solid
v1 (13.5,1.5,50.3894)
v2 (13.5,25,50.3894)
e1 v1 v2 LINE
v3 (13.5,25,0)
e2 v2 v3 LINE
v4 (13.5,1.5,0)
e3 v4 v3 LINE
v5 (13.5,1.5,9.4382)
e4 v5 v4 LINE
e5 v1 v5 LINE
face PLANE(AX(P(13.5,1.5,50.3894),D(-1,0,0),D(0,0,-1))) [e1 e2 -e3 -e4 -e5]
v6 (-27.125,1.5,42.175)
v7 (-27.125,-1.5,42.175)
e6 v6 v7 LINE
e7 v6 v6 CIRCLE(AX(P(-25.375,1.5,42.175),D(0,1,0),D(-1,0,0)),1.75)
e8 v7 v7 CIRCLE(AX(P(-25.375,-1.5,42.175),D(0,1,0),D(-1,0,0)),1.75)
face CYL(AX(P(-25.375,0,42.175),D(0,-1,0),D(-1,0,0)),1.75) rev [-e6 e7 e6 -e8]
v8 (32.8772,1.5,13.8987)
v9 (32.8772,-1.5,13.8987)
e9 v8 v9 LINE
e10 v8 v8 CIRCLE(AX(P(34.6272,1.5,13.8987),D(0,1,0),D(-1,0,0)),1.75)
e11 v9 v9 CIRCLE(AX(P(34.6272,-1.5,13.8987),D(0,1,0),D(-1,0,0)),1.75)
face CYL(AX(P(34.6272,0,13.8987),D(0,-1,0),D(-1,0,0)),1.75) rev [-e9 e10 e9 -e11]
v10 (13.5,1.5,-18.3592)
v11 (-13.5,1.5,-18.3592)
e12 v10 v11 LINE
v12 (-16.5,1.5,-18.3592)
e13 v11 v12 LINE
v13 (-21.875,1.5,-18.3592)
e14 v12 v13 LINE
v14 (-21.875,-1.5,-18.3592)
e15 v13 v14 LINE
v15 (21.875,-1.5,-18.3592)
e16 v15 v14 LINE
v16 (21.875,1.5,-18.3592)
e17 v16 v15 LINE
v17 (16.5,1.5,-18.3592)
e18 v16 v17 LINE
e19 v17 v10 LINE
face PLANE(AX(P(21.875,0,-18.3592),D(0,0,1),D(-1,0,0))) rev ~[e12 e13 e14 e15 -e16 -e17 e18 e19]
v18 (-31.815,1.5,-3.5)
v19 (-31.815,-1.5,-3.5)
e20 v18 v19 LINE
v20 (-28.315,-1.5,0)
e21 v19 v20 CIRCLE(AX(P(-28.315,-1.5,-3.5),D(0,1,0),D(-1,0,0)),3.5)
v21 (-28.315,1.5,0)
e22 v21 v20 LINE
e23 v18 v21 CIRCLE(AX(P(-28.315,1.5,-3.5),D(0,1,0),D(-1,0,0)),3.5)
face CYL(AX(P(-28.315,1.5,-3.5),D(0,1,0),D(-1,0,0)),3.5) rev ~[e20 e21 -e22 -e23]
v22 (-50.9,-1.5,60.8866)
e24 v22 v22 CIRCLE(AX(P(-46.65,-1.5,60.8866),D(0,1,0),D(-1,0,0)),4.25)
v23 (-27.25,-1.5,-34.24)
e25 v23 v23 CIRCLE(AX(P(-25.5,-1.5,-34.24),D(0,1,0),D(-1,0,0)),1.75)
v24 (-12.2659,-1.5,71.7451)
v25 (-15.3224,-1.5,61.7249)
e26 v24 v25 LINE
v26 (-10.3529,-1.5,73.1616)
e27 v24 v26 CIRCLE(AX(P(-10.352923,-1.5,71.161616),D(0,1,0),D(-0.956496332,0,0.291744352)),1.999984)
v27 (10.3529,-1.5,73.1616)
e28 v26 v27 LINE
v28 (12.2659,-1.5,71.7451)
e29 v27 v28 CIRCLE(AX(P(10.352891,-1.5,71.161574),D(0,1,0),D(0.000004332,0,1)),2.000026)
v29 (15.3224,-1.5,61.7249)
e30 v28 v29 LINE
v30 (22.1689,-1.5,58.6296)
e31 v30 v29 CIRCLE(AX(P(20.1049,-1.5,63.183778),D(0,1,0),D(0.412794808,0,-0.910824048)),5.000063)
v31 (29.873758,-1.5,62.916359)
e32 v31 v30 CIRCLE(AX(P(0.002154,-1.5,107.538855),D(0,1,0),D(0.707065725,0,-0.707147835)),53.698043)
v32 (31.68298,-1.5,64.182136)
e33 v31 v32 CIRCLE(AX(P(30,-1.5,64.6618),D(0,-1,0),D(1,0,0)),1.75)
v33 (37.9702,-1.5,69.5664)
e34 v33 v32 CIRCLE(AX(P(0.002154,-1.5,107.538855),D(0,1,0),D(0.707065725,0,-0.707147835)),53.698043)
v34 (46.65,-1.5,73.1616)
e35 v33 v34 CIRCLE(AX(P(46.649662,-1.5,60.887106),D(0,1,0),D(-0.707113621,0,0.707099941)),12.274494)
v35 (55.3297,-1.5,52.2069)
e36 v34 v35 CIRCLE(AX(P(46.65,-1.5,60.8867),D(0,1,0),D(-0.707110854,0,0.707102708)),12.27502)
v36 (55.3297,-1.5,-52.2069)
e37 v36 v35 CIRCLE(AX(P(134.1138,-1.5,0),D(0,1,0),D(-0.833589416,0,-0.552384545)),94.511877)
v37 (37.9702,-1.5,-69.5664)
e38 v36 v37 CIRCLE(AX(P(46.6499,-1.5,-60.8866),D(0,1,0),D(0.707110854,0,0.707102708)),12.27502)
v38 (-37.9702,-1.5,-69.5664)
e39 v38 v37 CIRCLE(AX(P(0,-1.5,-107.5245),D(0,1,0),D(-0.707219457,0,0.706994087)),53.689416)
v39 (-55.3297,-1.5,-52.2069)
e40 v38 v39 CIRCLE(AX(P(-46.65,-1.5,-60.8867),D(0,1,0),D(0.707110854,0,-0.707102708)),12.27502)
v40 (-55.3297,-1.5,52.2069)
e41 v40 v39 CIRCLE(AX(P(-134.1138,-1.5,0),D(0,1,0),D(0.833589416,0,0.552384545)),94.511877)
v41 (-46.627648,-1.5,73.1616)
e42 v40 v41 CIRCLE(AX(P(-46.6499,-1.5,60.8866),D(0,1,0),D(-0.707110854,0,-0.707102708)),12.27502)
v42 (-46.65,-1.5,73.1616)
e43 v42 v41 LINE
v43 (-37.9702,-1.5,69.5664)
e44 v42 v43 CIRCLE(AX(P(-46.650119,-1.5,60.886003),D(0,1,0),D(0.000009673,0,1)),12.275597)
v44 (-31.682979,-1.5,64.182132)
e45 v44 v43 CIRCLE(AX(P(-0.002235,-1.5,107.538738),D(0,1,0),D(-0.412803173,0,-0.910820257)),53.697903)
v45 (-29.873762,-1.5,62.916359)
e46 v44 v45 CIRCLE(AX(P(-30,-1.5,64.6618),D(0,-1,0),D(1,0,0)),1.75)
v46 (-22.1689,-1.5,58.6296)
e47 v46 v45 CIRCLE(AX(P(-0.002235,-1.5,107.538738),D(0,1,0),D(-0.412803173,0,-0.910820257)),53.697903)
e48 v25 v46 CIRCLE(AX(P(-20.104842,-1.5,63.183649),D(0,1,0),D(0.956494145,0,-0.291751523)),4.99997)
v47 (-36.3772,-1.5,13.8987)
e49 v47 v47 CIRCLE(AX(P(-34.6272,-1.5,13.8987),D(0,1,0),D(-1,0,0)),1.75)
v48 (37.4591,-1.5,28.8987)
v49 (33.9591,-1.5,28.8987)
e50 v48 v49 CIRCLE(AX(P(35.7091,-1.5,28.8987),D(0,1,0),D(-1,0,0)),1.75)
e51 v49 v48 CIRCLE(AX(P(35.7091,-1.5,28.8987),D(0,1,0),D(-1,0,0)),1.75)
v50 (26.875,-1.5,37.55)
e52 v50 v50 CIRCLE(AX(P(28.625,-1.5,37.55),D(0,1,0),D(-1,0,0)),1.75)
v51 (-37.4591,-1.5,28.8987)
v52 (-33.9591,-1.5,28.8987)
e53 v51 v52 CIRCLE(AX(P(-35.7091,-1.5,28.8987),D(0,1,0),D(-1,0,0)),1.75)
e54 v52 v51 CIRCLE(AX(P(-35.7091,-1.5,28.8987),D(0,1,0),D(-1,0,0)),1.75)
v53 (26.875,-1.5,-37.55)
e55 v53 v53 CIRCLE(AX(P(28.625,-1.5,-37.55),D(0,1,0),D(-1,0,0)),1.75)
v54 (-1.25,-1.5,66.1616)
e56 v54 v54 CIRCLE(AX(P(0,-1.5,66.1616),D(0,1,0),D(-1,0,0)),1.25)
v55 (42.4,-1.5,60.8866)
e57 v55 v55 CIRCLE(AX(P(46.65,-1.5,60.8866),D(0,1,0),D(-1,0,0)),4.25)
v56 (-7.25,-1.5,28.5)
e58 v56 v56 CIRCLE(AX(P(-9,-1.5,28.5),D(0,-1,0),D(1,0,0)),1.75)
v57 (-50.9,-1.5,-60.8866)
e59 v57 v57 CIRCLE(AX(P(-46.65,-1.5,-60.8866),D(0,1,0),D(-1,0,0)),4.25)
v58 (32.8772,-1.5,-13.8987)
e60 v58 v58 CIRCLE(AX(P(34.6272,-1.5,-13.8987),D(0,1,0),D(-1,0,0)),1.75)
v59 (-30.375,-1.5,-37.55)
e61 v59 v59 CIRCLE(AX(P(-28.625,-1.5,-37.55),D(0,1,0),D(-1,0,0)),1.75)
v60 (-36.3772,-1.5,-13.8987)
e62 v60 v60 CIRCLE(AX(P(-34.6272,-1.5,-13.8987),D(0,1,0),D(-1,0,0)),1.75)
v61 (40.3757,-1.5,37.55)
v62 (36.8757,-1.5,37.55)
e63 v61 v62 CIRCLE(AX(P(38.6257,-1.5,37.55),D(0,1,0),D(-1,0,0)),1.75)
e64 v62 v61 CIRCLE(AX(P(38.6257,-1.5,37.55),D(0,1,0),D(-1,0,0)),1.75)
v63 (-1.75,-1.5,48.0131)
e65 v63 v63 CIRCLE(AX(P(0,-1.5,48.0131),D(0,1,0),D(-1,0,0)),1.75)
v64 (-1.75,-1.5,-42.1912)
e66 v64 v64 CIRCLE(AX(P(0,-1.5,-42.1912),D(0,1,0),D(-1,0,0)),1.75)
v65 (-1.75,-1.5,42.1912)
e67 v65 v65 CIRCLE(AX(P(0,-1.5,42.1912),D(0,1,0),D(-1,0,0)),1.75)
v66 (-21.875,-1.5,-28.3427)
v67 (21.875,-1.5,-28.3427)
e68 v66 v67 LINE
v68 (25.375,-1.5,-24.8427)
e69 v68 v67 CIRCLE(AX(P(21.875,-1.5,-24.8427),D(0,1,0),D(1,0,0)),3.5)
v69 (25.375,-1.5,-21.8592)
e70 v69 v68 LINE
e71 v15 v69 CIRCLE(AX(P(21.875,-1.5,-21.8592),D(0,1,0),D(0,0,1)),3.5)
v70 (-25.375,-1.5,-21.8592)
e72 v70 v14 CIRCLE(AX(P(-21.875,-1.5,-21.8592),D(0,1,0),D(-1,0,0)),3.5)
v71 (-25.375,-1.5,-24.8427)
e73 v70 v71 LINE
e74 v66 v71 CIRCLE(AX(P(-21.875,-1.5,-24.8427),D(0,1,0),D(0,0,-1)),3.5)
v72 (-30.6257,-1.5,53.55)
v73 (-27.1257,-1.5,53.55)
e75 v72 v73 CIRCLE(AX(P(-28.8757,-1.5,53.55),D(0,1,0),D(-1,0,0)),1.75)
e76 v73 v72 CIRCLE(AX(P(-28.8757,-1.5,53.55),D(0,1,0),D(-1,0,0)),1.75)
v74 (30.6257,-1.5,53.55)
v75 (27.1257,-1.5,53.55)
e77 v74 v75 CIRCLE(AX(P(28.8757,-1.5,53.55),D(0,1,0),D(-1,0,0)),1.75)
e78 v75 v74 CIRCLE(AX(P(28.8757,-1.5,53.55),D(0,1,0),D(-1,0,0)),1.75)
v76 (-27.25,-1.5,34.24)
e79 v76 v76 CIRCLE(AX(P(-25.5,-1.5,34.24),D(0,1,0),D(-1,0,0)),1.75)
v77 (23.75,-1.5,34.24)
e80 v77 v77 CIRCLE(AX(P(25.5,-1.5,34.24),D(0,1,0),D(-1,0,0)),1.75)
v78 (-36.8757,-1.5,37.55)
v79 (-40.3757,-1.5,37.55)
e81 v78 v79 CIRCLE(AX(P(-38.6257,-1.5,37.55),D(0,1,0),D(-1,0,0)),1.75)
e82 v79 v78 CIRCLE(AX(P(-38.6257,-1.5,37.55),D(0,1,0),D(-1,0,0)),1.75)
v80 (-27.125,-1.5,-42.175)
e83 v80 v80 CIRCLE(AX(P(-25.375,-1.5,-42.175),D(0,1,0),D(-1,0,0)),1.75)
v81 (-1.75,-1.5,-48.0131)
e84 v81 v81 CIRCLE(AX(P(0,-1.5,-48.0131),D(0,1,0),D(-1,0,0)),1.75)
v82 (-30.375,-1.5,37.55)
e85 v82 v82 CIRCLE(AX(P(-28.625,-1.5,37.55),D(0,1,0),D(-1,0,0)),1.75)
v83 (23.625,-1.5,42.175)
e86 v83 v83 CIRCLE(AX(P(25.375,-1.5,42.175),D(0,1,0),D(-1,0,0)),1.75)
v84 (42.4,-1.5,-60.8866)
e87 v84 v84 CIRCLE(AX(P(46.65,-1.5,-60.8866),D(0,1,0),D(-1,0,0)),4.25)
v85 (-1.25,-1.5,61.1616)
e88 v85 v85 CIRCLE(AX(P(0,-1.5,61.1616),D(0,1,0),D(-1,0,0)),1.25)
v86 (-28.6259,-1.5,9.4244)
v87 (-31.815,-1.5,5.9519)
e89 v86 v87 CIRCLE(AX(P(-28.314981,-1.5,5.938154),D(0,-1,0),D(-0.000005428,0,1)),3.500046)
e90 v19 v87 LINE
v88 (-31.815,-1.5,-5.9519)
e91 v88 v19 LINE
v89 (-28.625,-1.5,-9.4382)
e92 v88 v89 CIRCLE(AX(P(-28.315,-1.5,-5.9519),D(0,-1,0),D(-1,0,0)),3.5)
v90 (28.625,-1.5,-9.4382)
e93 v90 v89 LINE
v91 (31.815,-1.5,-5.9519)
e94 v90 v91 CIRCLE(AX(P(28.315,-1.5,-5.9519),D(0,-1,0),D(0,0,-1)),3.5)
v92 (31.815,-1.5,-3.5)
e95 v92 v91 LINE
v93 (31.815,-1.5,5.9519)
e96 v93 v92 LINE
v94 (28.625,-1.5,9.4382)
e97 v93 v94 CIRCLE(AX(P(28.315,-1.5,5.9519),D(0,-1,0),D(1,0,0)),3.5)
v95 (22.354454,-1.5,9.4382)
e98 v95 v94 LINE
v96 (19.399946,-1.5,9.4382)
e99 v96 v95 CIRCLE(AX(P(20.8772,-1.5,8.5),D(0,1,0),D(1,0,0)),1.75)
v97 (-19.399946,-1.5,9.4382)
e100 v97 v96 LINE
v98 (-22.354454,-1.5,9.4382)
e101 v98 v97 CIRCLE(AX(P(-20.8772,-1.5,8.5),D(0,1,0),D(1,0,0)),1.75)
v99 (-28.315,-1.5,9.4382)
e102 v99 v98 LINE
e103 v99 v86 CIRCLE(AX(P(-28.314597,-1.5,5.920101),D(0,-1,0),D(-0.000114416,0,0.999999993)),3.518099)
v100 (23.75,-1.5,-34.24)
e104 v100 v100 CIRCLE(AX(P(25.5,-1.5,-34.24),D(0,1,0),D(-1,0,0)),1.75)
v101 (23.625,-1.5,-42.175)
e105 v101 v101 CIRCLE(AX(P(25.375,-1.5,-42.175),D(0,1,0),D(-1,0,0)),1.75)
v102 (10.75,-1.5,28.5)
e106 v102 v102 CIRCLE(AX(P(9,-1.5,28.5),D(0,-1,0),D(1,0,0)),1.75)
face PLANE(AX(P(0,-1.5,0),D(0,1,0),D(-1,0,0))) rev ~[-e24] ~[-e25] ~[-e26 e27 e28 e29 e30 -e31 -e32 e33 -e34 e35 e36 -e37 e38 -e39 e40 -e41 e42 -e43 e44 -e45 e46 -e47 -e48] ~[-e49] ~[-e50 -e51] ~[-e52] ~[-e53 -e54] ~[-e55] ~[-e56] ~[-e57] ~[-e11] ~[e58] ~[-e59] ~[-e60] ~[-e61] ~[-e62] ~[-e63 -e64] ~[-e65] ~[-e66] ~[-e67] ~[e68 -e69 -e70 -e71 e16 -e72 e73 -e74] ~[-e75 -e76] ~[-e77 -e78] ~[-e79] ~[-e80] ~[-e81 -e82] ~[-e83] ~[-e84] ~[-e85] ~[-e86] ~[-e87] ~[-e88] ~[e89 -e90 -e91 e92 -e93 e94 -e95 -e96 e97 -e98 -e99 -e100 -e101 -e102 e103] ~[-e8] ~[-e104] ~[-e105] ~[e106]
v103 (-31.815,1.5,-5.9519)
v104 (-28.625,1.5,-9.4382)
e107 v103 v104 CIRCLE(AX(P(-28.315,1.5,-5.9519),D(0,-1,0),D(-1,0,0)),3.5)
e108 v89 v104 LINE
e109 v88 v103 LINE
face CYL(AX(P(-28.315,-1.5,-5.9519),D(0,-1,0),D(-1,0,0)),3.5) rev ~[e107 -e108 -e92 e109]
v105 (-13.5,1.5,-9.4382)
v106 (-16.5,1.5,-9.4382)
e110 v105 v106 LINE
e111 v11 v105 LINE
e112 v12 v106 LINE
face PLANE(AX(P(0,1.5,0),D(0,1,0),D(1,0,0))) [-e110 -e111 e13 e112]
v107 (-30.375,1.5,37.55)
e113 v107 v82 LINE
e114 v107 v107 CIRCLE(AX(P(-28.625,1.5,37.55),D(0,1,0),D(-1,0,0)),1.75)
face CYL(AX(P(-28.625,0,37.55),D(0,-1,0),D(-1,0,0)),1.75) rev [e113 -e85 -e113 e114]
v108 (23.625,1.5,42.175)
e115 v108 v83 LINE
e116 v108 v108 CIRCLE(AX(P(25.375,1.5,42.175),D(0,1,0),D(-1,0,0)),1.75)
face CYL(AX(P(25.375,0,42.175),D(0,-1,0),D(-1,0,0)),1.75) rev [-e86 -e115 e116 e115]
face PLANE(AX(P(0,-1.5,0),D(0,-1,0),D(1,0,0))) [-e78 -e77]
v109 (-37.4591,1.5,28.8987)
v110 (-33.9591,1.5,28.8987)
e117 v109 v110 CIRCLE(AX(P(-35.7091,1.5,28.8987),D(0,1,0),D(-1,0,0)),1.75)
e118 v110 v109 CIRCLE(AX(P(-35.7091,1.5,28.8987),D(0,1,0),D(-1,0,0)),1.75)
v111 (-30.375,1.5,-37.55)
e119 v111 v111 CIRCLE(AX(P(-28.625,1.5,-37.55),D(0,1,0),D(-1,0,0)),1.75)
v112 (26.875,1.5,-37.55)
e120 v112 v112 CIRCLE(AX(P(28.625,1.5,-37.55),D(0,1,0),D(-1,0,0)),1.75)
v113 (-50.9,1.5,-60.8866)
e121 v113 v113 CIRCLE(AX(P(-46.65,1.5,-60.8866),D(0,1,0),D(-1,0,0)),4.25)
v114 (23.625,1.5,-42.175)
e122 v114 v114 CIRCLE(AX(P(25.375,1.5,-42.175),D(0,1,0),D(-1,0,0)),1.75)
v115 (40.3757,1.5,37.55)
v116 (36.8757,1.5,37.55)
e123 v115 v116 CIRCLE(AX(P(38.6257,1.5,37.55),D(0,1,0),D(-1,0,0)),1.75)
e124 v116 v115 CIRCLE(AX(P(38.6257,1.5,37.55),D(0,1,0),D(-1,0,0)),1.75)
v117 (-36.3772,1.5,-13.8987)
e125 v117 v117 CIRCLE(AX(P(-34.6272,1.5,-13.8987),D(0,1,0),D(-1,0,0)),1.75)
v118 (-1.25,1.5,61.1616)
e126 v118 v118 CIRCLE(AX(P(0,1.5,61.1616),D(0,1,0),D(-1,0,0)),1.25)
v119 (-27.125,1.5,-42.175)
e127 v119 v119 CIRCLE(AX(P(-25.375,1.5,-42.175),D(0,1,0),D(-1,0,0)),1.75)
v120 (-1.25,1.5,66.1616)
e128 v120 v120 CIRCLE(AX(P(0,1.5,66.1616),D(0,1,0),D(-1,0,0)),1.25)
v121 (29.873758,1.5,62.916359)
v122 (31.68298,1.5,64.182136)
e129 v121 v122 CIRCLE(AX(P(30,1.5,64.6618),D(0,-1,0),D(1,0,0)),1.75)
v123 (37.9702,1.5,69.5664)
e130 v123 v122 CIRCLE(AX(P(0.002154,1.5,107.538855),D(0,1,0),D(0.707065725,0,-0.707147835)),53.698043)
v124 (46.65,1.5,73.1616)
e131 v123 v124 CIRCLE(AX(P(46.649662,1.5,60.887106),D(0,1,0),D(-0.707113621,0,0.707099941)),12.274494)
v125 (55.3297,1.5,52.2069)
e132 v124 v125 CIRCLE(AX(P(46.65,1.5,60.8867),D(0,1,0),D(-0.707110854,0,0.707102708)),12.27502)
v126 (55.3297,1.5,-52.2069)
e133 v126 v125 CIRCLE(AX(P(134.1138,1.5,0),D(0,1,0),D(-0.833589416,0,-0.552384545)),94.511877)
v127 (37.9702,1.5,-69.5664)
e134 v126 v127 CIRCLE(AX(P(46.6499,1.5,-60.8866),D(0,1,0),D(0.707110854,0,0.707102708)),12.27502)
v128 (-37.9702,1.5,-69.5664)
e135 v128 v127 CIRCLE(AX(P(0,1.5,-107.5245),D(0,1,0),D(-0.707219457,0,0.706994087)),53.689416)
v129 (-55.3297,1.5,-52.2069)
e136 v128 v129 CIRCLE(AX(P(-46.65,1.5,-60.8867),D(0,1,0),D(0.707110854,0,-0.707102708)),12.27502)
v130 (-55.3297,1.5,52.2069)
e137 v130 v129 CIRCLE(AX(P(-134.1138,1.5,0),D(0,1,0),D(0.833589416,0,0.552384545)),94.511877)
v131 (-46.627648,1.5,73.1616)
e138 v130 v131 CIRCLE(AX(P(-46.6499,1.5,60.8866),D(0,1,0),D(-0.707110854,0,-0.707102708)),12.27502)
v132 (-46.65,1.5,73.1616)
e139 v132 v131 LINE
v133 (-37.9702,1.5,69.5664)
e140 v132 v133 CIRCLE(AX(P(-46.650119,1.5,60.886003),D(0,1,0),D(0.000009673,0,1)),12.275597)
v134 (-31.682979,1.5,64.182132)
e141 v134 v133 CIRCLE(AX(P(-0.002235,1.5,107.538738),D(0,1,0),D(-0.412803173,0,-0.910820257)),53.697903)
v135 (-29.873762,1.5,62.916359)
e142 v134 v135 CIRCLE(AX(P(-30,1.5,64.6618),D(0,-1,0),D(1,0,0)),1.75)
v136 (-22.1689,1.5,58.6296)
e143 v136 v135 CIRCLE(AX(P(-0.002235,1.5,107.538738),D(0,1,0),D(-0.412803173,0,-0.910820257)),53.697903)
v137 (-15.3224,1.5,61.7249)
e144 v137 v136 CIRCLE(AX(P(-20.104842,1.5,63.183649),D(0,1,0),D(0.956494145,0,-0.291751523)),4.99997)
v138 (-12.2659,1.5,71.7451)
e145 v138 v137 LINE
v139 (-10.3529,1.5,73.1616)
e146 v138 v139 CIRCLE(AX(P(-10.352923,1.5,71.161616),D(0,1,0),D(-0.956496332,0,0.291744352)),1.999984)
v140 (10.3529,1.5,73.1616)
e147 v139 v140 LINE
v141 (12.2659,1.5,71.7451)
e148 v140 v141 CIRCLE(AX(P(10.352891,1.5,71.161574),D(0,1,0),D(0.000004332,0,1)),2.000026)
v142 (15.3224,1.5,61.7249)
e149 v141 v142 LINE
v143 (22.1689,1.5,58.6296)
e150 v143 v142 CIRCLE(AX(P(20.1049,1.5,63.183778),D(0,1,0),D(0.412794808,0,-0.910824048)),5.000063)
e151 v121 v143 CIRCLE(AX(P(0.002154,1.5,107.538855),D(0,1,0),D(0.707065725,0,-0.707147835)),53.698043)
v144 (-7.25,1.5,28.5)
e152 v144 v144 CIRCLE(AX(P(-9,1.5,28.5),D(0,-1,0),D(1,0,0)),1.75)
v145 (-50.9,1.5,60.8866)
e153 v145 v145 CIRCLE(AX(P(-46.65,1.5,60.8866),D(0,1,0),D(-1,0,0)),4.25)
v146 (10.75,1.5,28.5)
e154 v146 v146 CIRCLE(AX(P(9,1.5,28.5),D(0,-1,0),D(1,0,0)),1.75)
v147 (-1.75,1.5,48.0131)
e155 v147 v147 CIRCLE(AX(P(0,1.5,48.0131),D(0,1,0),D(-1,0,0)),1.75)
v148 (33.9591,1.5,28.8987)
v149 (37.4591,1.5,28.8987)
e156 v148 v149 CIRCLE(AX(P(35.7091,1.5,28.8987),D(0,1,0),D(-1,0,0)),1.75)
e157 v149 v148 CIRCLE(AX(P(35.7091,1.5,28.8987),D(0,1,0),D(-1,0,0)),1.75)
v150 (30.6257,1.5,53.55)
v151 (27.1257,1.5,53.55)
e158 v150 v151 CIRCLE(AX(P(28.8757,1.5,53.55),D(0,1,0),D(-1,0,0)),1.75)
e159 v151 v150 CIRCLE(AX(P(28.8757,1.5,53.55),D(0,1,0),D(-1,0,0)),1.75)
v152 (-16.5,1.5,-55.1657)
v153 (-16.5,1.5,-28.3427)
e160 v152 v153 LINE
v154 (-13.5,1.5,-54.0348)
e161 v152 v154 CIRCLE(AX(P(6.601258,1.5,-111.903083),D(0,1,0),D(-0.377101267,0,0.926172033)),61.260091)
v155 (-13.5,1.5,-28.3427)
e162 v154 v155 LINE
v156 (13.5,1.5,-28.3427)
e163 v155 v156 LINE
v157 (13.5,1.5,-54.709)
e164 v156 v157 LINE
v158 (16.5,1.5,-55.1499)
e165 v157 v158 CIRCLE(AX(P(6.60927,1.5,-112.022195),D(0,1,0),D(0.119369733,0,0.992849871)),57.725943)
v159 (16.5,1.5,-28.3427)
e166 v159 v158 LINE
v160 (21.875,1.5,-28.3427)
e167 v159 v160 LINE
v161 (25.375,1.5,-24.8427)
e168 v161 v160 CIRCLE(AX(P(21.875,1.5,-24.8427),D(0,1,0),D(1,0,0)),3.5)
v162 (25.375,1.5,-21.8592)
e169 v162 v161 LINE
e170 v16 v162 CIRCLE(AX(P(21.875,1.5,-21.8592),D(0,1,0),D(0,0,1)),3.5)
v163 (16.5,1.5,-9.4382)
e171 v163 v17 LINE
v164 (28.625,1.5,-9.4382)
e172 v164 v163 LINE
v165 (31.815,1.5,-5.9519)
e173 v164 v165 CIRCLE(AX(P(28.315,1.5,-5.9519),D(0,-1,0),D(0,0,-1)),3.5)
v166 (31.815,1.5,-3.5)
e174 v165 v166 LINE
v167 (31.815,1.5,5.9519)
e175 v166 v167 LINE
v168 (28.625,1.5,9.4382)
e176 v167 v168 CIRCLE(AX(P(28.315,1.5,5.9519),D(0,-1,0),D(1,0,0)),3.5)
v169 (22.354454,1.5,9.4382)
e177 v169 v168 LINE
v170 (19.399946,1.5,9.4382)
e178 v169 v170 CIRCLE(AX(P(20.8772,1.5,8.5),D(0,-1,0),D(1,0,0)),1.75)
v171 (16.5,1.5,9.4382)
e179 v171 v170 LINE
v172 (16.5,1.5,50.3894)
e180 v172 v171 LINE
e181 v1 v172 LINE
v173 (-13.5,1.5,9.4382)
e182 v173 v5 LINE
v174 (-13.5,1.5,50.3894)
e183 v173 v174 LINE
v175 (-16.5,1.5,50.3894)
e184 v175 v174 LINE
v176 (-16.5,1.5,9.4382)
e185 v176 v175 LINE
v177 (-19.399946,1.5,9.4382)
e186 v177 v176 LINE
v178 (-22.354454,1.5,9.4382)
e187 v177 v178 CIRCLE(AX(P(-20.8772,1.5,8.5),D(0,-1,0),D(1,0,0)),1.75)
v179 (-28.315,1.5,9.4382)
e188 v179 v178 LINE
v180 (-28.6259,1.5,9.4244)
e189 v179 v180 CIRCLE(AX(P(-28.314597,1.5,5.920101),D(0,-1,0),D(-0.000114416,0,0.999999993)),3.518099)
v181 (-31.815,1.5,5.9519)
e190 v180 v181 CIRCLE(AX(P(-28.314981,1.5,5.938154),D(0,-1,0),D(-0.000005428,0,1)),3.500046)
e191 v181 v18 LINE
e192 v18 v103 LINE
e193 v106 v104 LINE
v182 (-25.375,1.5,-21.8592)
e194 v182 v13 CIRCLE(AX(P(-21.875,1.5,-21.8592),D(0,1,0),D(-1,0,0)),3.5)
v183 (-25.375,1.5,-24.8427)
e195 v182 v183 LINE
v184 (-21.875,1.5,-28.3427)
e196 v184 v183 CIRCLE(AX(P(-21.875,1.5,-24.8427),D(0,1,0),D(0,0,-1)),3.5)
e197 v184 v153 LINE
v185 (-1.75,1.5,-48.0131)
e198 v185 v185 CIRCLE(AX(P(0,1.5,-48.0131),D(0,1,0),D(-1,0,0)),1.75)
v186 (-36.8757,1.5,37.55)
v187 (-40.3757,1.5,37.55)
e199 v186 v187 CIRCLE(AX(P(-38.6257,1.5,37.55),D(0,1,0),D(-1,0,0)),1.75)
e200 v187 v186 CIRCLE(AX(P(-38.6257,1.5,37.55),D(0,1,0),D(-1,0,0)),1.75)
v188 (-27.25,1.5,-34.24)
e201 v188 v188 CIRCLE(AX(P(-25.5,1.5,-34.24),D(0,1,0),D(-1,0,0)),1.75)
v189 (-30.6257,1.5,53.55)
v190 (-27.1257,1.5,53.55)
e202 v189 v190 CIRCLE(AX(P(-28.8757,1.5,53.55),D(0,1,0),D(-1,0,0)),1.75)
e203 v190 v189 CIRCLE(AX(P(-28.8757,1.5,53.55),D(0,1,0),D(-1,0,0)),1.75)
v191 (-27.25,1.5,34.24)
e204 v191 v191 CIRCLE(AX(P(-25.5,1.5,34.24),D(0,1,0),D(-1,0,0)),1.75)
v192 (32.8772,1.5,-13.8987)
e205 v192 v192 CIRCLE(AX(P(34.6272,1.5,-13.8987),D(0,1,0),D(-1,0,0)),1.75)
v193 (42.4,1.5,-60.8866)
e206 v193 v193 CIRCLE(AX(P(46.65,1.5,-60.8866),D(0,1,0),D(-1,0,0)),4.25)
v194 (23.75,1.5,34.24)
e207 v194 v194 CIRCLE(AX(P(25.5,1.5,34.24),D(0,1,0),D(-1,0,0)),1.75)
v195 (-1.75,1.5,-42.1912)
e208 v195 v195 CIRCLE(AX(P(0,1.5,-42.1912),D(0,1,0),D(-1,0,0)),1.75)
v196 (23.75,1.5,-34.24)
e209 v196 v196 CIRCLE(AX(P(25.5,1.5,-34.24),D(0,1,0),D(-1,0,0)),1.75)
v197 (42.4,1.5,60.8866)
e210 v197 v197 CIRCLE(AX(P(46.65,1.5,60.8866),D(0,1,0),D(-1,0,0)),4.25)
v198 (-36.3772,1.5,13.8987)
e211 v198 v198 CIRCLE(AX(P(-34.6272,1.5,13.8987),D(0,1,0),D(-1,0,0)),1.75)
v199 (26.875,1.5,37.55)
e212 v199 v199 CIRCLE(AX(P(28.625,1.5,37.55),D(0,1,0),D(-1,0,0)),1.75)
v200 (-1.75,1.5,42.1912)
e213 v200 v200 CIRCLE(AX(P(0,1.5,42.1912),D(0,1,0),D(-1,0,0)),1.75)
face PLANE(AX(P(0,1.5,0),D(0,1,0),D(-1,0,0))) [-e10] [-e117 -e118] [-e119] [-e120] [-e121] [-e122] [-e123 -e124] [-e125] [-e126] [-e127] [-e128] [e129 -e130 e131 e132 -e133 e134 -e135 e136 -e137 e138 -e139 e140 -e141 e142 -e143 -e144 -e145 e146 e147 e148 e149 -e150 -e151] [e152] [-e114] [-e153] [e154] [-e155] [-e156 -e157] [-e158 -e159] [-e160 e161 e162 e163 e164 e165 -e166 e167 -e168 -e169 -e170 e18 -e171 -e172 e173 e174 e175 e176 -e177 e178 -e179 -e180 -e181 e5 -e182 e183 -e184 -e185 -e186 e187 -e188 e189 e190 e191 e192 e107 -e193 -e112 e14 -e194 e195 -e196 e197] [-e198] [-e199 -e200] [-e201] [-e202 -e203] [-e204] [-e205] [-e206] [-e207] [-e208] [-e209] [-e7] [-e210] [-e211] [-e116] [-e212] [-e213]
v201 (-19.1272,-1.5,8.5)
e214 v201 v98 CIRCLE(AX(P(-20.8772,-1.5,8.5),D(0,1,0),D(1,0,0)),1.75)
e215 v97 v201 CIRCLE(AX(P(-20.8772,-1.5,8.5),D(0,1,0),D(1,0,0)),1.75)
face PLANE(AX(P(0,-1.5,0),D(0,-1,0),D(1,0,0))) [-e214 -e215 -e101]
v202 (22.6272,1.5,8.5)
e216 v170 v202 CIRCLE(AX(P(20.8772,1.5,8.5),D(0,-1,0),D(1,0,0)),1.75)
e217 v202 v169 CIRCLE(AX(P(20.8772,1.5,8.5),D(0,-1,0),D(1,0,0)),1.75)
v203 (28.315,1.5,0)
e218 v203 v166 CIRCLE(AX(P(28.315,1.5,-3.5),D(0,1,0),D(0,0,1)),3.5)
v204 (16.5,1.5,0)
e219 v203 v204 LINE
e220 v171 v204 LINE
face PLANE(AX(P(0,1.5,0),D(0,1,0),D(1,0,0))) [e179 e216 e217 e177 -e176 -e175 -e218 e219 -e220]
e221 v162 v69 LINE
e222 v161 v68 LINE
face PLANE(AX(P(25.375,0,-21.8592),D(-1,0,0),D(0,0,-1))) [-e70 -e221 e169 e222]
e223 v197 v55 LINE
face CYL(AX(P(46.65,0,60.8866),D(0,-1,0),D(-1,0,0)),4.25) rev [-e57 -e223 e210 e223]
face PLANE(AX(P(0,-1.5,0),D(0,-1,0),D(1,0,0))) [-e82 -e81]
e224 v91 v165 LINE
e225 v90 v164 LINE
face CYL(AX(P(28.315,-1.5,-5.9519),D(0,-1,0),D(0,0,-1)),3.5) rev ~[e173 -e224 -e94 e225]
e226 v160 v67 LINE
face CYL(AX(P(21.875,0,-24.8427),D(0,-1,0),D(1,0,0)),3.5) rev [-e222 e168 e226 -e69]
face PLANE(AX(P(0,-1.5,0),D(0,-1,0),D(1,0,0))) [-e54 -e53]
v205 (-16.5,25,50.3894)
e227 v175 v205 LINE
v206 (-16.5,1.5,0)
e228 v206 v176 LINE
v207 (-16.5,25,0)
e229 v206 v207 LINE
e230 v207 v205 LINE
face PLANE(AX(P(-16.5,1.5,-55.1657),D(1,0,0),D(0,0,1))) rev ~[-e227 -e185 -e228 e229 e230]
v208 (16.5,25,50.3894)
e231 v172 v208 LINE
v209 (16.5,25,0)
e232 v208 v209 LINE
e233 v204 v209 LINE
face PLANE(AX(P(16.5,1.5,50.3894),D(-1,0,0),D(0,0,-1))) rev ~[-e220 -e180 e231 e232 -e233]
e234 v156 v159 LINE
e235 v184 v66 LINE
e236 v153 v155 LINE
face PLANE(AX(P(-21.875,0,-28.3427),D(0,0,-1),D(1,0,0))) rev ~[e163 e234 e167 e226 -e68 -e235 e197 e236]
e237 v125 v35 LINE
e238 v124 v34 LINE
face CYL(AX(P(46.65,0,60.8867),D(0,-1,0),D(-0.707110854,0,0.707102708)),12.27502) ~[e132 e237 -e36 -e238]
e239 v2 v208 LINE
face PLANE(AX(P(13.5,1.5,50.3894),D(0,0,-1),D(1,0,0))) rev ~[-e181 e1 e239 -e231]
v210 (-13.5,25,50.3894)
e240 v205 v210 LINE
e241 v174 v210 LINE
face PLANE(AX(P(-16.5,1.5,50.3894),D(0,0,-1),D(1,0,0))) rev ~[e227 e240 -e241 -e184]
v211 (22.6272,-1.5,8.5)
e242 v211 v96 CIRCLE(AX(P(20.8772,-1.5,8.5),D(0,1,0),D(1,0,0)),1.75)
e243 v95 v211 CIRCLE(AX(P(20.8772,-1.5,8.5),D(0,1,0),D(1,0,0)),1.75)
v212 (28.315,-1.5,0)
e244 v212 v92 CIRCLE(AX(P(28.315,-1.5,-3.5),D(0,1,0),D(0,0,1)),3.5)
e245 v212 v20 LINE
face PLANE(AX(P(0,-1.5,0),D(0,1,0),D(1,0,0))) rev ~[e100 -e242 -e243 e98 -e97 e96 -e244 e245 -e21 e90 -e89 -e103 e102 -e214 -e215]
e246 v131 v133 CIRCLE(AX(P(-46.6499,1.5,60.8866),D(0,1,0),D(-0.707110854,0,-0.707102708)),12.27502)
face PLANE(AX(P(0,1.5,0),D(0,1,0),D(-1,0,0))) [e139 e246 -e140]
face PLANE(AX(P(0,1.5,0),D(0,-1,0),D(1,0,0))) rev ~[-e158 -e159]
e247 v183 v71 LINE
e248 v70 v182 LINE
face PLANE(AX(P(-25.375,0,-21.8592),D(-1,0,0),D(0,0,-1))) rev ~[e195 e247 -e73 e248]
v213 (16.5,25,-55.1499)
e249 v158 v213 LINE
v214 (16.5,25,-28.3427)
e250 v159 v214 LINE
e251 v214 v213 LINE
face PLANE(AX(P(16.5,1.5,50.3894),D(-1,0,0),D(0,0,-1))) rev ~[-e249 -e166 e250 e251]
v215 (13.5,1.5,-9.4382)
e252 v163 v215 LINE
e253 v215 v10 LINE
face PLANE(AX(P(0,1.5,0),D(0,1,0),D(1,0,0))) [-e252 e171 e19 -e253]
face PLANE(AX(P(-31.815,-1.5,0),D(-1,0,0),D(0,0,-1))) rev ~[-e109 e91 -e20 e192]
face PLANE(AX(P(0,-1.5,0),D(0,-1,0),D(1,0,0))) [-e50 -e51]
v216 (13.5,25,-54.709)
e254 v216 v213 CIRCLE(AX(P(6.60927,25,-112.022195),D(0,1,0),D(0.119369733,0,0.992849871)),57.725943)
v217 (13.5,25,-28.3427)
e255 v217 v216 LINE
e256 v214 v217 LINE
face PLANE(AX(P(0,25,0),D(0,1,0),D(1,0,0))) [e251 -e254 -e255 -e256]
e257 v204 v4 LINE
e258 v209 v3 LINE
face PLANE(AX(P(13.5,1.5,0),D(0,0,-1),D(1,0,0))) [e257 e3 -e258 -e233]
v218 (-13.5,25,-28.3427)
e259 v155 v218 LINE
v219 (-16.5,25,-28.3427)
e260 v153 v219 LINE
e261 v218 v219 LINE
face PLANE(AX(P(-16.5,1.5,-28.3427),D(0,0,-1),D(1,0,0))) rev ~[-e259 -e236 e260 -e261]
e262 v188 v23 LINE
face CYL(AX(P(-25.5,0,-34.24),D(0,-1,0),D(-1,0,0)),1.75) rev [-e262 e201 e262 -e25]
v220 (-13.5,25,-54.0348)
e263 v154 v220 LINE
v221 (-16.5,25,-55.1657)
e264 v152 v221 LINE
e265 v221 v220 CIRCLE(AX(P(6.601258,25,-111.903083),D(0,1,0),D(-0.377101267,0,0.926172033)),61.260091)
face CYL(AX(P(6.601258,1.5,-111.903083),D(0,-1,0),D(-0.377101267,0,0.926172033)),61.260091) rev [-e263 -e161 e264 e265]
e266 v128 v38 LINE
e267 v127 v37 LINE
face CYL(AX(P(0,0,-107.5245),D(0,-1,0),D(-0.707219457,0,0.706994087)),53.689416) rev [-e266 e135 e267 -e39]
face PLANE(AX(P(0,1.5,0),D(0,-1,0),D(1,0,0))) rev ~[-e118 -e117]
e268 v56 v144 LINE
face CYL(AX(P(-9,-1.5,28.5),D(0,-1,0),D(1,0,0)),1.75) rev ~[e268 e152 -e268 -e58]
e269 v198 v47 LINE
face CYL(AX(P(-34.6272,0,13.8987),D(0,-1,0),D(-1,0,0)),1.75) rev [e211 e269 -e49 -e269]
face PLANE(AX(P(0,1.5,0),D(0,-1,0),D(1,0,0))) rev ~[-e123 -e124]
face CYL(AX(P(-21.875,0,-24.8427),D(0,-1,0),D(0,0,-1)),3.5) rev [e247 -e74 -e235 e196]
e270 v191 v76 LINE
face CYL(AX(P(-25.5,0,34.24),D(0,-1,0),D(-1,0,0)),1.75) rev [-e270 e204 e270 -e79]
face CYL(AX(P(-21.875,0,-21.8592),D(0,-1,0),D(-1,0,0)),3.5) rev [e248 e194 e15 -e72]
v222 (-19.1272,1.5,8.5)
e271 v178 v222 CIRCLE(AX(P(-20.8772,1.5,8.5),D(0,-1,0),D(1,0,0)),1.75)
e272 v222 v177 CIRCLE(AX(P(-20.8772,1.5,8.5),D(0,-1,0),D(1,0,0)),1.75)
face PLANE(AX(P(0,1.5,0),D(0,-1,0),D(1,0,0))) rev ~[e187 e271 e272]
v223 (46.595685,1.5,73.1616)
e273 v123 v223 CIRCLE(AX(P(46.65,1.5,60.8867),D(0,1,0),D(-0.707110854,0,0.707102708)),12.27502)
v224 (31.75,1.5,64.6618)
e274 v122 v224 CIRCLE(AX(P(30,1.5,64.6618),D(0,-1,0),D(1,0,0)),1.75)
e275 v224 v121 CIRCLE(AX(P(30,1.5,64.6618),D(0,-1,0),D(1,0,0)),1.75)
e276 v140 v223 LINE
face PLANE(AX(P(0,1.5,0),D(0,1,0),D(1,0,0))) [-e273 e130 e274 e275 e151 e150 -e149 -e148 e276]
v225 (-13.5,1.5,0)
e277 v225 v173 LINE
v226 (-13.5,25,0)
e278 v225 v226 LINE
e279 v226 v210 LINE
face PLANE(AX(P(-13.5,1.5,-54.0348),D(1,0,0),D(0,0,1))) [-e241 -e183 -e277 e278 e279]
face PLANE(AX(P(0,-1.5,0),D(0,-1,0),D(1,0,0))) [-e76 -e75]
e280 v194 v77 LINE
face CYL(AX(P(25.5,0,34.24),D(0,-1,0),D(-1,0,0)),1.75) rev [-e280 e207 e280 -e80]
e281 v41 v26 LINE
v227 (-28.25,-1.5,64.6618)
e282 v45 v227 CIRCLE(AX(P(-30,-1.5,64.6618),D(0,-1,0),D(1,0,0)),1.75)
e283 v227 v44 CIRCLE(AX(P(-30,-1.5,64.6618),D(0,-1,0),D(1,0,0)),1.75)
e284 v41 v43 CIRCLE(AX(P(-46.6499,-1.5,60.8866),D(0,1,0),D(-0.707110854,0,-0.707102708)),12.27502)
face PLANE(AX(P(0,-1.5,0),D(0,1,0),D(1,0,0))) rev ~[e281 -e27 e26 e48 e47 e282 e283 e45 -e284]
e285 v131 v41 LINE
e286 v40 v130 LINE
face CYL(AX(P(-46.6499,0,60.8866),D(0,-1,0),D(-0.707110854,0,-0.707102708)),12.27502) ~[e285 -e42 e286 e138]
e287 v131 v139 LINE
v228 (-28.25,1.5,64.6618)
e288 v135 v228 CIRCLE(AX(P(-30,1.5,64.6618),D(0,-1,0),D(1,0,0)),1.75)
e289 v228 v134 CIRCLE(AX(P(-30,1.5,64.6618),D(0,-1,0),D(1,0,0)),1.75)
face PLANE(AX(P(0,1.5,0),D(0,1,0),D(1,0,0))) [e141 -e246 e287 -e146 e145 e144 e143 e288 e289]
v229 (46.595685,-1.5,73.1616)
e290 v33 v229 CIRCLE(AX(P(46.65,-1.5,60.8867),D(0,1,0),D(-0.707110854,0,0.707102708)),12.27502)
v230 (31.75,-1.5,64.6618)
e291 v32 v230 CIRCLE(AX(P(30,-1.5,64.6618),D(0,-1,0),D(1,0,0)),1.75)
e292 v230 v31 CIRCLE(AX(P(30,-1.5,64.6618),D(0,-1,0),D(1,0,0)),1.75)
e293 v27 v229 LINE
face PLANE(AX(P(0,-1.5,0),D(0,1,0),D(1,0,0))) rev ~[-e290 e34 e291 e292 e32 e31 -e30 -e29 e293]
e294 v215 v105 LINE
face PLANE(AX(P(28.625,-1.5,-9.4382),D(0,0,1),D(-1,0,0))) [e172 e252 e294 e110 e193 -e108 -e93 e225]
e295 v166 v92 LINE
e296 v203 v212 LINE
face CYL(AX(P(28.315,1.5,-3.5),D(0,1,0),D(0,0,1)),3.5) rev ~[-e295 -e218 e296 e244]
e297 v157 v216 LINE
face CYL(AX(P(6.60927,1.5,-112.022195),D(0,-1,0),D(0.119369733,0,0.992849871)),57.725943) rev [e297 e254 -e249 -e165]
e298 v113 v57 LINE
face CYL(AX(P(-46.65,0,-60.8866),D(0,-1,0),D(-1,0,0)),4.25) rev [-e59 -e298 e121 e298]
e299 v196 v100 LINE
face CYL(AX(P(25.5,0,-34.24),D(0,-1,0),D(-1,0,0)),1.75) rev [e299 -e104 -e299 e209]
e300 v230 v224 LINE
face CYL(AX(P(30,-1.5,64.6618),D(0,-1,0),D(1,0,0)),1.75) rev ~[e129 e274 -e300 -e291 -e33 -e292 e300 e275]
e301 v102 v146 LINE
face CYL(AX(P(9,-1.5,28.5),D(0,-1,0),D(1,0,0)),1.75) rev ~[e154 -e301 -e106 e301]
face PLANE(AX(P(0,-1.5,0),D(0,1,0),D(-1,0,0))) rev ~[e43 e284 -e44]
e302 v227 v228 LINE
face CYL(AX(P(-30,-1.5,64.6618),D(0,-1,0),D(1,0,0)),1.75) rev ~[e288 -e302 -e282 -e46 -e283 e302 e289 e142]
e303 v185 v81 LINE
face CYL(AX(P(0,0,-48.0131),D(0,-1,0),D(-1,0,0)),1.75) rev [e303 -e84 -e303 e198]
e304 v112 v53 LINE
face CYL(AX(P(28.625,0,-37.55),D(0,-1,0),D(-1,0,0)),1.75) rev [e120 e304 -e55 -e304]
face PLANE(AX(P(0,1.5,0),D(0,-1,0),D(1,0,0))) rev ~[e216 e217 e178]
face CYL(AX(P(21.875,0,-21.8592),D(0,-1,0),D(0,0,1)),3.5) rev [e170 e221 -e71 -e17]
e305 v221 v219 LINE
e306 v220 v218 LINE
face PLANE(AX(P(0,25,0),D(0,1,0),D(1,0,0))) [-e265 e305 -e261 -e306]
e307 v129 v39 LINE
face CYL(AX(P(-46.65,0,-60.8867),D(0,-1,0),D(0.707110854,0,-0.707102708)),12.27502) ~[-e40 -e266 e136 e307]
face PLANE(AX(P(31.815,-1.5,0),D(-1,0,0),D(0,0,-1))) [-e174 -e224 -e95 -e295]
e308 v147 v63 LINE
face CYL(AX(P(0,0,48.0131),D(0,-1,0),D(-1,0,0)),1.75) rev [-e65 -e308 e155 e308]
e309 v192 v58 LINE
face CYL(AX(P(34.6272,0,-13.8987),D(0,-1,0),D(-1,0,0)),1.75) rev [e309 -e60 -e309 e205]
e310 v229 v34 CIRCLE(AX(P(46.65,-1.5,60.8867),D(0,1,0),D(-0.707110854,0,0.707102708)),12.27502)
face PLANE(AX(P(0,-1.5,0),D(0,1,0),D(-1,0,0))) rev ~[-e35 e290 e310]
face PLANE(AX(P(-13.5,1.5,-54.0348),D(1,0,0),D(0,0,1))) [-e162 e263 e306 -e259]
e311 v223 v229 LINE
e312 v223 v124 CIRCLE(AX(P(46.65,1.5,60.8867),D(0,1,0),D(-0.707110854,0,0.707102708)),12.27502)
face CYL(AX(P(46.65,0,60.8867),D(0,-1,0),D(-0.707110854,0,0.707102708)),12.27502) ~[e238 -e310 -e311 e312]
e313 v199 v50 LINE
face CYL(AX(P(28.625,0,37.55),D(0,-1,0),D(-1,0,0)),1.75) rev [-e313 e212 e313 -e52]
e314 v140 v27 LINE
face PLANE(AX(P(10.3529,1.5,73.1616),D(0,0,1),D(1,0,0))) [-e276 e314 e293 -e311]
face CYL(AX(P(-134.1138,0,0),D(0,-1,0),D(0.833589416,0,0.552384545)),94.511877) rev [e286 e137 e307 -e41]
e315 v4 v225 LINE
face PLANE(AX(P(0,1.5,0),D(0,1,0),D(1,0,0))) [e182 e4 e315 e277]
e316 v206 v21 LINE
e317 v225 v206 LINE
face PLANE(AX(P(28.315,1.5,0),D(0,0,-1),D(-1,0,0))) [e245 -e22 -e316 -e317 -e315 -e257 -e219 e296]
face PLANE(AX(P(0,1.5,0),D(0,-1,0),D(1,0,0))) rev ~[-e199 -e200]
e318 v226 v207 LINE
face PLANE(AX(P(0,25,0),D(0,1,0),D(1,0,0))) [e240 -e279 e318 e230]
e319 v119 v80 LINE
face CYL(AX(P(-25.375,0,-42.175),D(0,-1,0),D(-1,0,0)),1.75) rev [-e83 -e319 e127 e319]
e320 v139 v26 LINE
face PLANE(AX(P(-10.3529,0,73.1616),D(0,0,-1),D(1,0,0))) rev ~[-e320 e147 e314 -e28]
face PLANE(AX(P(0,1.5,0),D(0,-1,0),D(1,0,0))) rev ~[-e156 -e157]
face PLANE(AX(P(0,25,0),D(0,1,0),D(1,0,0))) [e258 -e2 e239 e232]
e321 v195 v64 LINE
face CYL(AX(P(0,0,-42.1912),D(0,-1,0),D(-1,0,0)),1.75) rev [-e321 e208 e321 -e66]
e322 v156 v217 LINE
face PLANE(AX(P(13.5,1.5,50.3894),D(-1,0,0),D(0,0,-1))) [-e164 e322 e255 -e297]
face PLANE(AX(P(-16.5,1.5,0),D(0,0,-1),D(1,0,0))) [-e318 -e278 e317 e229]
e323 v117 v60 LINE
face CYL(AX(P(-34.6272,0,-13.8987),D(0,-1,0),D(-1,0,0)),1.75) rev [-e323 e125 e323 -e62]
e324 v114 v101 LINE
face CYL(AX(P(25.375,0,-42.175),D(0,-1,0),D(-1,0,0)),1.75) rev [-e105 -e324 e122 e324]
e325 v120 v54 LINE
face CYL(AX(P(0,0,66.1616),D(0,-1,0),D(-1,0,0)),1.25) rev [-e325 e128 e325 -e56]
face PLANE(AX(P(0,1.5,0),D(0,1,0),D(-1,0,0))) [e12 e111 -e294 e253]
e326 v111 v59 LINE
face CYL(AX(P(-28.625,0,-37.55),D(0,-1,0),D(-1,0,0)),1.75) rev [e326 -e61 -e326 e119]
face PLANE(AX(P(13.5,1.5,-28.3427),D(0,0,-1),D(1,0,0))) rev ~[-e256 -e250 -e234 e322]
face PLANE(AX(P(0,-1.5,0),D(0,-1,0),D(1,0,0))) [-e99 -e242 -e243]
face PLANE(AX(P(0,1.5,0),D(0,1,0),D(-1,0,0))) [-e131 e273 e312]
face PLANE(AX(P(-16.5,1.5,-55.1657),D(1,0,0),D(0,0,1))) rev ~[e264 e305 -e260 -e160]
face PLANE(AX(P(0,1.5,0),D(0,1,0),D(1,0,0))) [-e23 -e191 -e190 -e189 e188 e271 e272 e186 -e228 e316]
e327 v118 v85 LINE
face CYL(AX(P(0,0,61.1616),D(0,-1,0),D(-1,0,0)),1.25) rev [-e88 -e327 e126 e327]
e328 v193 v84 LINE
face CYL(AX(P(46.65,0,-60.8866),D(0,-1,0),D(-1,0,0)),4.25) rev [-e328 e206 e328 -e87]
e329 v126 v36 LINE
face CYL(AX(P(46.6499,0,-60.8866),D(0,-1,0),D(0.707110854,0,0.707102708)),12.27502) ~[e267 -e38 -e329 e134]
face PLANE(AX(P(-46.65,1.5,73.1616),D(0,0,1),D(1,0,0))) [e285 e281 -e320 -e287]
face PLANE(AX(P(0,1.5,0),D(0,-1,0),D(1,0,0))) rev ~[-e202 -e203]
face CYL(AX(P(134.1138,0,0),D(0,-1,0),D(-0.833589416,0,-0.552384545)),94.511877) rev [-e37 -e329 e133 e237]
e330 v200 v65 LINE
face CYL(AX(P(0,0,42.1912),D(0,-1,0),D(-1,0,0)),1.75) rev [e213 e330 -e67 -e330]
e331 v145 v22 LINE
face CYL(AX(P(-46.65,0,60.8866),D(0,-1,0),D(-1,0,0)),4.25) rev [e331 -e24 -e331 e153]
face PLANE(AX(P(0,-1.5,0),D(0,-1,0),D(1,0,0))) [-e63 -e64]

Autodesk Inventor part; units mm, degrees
ref_plane "YZ Plane" through (0, 0, 0) normal (1, 0, 0) x (0, 1, 0)
ref_plane "XZ Plane" through (0, 0, 0) normal (0, 1, 0) x (-1, 0, 0)
ref_plane "XY Plane" through (0, 0, 0) normal (0, 0, 1) x (1, 0, 0)
sketch "Sketch1" plane through (0, 0, 0) normal (0, 1, 0) x (-1, 0, 0)
  circle A0 centre (46.65, 60.8866) radius 4.25
  circle A1 centre (25.375, 42.175) radius 1.75
  circle A2 centre (28.625, 37.55) radius 1.75
  circle A3 centre (46.65, -60.8866) radius 4.25
  circle A4 centre (25.375, -42.175) radius 1.75
  circle A5 centre (28.625, -37.55) radius 1.75
  circle A6 centre (25.5, -34.24) radius 1.75
  circle A7 centre (25.5, 34.24) radius 1.75
  arc A8 (55.3297, 52.2069) -> (37.9702, 69.5664) centre (46.65, 60.8866) ccw
  arc A9 (37.9702, -69.5664) -> (55.3297, -52.2069) centre (46.65, -60.8866) ccw
  circle A10 centre (35.7091, 28.8987) radius 1.75
  circle A11 centre (38.6257, 37.55) radius 1.75
  circle A12 centre (28.8757, 53.55) radius 1.75
  line L0 (12.2659, 71.7451) -> (15.3224, 61.7249)
  arc A13 (22.1689, 58.6296) -> (37.9702, 69.5664) centre (0.0022, 107.5388) ccw
  arc A14 (15.3224, 61.7249) -> (22.1689, 58.6296) centre (20.1049, 63.1837) ccw
  circle A15 centre (-25.375, 42.175) radius 1.75
  circle A16 centre (-28.625, 37.55) radius 1.75
  circle A17 centre (-46.65, 60.8866) radius 4.25
  circle A18 centre (-25.375, -42.175) radius 1.75
  circle A19 centre (-28.625, -37.55) radius 1.75
  circle A20 centre (-46.65, -60.8866) radius 4.25
  circle A21 centre (-25.5, -34.24) radius 1.75
  circle A22 centre (-25.5, 34.24) radius 1.75
  arc A23 (-37.9702, 69.5664) -> (-55.3297, 52.2069) centre (-46.65, 60.8866) ccw
  arc A24 (-55.3297, -52.2069) -> (-37.9702, -69.5664) centre (-46.65, -60.8866) ccw
  circle A25 centre (-28.8757, 53.55) radius 1.75
  circle A26 centre (-38.6257, 37.55) radius 1.75
  circle A27 centre (-35.7091, 28.8987) radius 1.75
  line L1 (-12.2659, 71.7451) -> (-15.3224, 61.7249)
  arc A28 (-37.9702, 69.5664) -> (-22.1689, 58.6296) centre (-0.0022, 107.5388) ccw
  arc A29 (-22.1689, 58.6296) -> (-15.3224, 61.7249) centre (-20.1049, 63.1837) ccw
  circle A30 centre (0, 42.1912) radius 1.75
  arc A31 (37.9702, -69.5664) -> (-37.9702, -69.5664) centre (0, -107.5245) ccw
  line L2 (10.3529, 73.1616) -> (-10.3529, 73.1616)
  arc A32 (-55.3297, -52.2069) -> (-55.3297, 52.2069) centre (-134.1138, 0) ccw
  arc A33 (55.3297, 52.2069) -> (55.3297, -52.2069) centre (134.1138, 0) ccw
  arc A34 (12.2659, 71.7451) -> (10.3529, 73.1616) centre (10.3529, 71.1616) ccw
  arc A35 (-10.3529, 73.1616) -> (-12.2659, 71.7451) centre (-10.3529, 71.1616) ccw
  arc A36 (25.375, -21.8592) -> (21.875, -18.3592) centre (21.875, -21.8592) ccw
  arc A37 (21.875, -28.3427) -> (25.375, -24.8427) centre (21.875, -24.8427) ccw
  arc A38 (-25.375, -24.8427) -> (-21.875, -28.3427) centre (-21.875, -24.8427) ccw
  arc A39 (-21.875, -18.3592) -> (-25.375, -21.8592) centre (-21.875, -21.8592) ccw
  line L3 (-21.875, -18.3592) -> (21.875, -18.3592)
  line L4 (21.875, -28.3427) -> (-21.875, -28.3427)
  line L5 (-25.375, -21.8592) -> (-25.375, -24.8427)
  line L6 (25.375, -21.8592) -> (25.375, -24.8427)
  circle A40 centre (0, 61.1616) radius 1.25
  circle A41 centre (0, 66.1616) radius 1.25
  circle A42 centre (0, -42.1912) radius 1.75
  circle A43 centre (0, -48.0131) radius 1.75
  circle A44 centre (0, 48.0131) radius 1.75
  circle A45 centre (-34.6272, 13.8987) radius 1.75
  circle A46 centre (-34.6272, -13.8987) radius 1.75
  circle A47 centre (34.6272, 13.8987) radius 1.75
  circle A48 centre (34.6272, -13.8987) radius 1.75
  point P0 (57.609, 54.4281)
  point P1 (16.8957, 56.5674)
  point P2 (-0.0035, -53.835)
  point P3 (-57.609, 54.4281)
  point P4 (-16.8957, 56.5674)
  point P5 (0.0035, -53.835)
  point P6 (39.6019, 0)
  point P7 (-39.6019, 0)
  point P8 (25.25, -18.3592)
  point P9 (0, -18.3592)
  point P10 (-25.25, -18.3592)
  point P11 (46.65, -73.1616)
  point P12 (0, -73.1616)
  point P13 (46.65, 73.1616)
  point P14 (46.65, -73.1616)
  point P15 (-40.6295, 13.8987)
  dimension "d105" = 3.5
  dimension "d106" = 3.5
  dimension "d198" = 16
  dimension "d199" = 8.6513
  dimension "d244" = 5
  dimension "d247" = 79.2039
  dimension "d248" = 2
  dimension "d249" = 3.5
  dimension "d250" = 2.5
  dimension "d251" = 2.5
  dimension "d252" = 146.3233
  dimension "d253" = 146.3233
  dimension "d258" = 6.0022
  dimension "d259" = 27.7974
  dimension "d260" = 69.2545
  dimension "d263" = 5.8219
  dimension "d264" = 5.8219
  dimension "d265" = 5.8219
  dimension "d266" = 46.9879
  dimension "d267" = 12.0227
  dimension "d271" = 46.9879
  dimension "d272" = 12.0227
extrude "Extrusion14" add sketch "Sketch1" along normal mid plane 3
sketch "Sketch14" plane through (0, -1.5, 0) normal (0, -1, 0) x (1, 0, 0)
  line L0 (31.815, 0) -> (31.815, -5.9519)
  arc A0 (28.315, -9.4519) -> (31.815, -5.9519) centre (28.315, -5.9519) ccw
  arc A1 (28.315, -9.4519) -> (28.625, -9.4382) centre (28.315, -5.9519) ccw
  line L1 (28.315, -9.4519) -> (0.0544, -9.4519)
  line L2 (28.315, 9.4519) -> (0.0544, 9.4519)
  arc A2 (31.815, 5.9519) -> (28.315, 9.4519) centre (28.315, 5.9519) ccw
  line L3 (31.815, 0) -> (31.815, 5.9519)
  arc A3 (28.625, 9.4382) -> (28.315, 9.4519) centre (28.315, 5.9519) ccw
  line L4 (-28.315, -9.4519) -> (-0.0544, -9.4519)
  line L5 (-31.815, 0) -> (-31.815, -5.9519)
  arc A4 (-31.815, -5.9519) -> (-28.315, -9.4519) centre (-28.315, -5.9519) ccw
  arc A5 (-28.625, -9.4382) -> (-28.315, -9.4519) centre (-28.315, -5.9519) ccw
  line L6 (-28.315, 9.4382) -> (-0.0544, 9.445)
  arc A6 (-28.315, 9.4382) -> (-28.6259, 9.4244) centre (-28.315, 5.9382) ccw
  arc A7 (-28.315, 9.4382) -> (-31.815, 5.9519) centre (-28.315, 5.9382) ccw
  line L7 (-31.815, 0) -> (-31.815, 5.9519)
  line L8 (-28.315, 9.4382) -> (28.625, 9.4382)
  line L9 (28.625, -9.4382) -> (-28.625, -9.4382)
  line L10 (-31.815, 5.9519) -> (-31.815, -5.9519)
  line L11 (31.815, 5.9519) -> (31.815, -5.9519)
  point P0 (0, 0)
  point P1 (0, 0)
  dimension "d268" = 63.63
extrude "Extrusion15" cut sketch "Sketch14" against normal blind 3
sketch "Sketch15" plane through (0, 1.5, 0) normal (0, 1, 0) x (1, 0, 0)
  arc A0 (-46.65, -73.1616) -> (-37.9702, -69.5664) centre (-46.65, -60.8866) ccw
  arc A1 (-22.1689, -58.6296) -> (-37.9702, -69.5664) centre (-0.0022, -107.5388) ccw
  arc A2 (-15.3224, -61.7249) -> (-22.1689, -58.6296) centre (-20.1049, -63.1837) ccw
  line L0 (-15.3224, -61.7249) -> (-12.2659, -71.7451)
  arc A3 (-12.2659, -71.7451) -> (-10.3529, -73.1616) centre (-10.3529, -71.1616) ccw
  arc A4 (10.3529, -73.1616) -> (12.2659, -71.7451) centre (10.3529, -71.1616) ccw
  line L1 (12.2659, -71.7451) -> (15.3224, -61.7249)
  arc A5 (22.1689, -58.6296) -> (15.3224, -61.7249) centre (20.1049, -63.1837) ccw
  arc A6 (37.9702, -69.5664) -> (22.1689, -58.6296) centre (0.0022, -107.5388) ccw
  arc A7 (37.9702, -69.5664) -> (46.65, -73.1616) centre (46.65, -60.8866) ccw
  arc A8 (-46.65, -73.1616) -> (-37.9702, -69.5664) centre (-46.65, -60.8866) ccw
  line L2 (-46.65, -73.1616) -> (-10.3529, -73.1616)
  line L3 (10.3529, -73.1616) -> (46.65, -73.1616)
  line L4 (31.815, -5.9519) -> (31.815, 3.5)
  arc A9 (28.625, -9.4382) -> (31.815, -5.9519) centre (28.315, -5.9519) ccw
  line L5 (-28.315, -9.4382) -> (28.625, -9.4382)
  arc A10 (-31.815, -5.9519) -> (-28.315, -9.4382) centre (-28.315, -5.9382) ccw
  line L6 (-31.815, 3.5) -> (-31.815, -5.9519)
  line L7 (28.315, 0) -> (-28.315, 0)
  arc A11 (28.315, 0) -> (31.815, 3.5) centre (28.315, 3.5) ccw
  arc A12 (-31.815, 3.5) -> (-28.315, 0) centre (-28.315, 3.5) ccw
  dimension "d278" = 3.5
  dimension "d279" = 3.5
extrude "Extrusion16" add sketch "Sketch15" against normal blind 3 contours A0 A1 A2 L0 A3 L2 | A4 L1 A5 A6 A7 L3
extrude "Extrusion17" add sketch "Sketch15" against normal blind 3 contours A9 L5 A10 L6 A12 L7 A11 L4
sketch "Sketch18" plane through (0, -1.5, 0) normal (0, -1, 0) x (1, 0, 0)
  arc A0 (23.8353, 3.8182) -> (25.559, 5.5419) centre (22.3772, 7) ccw projected
  line L0 (25.8772, 15.6487) -> (25.8772, 7) projected
  line L1 (22.3772, 3.5) -> (-22.3773, 3.5) projected
  circle A1 centre (20.8772, 8.5) radius 1.75
  circle A2 centre (-20.8772, 8.5) radius 1.75
  point P0 (0, 0)
  dimension "d285" = 5
  dimension "d286" = 5
extrude "Extrusion18" cut sketch "Sketch18" against normal up to next
sketch "Sketch19" plane through (0, -1.5, 0) normal (0, -1, 0) x (1, 0, 0)
  circle A0 centre (-30, 64.6618) radius 1.75
  line L0 (0, 0) -> (0, 78.7482)
  line L1 (-36.7454, 69.6618) -> (36.7451, 69.6619)
  circle A1 centre (-9, 28.5) radius 1.75
  line L2 (22.3772, 3.5) -> (-22.3773, 3.5)
  circle A2 centre (30, 64.6618) radius 1.75
  circle A3 centre (9, 28.5) radius 1.75
  dimension "d289" = 3.5
  dimension "d300" = 30
  dimension "d301" = 5
  dimension "d302" = 3.5
  dimension "d303" = 25
  dimension "d304" = 9
sketch "Sketch20" plane through (0, -1.5, 0) normal (0, -1, 0) x (1, 0, 0)
  circle A0 centre (-35.7091, 28.8987) radius 1.75 projected
  circle A1 centre (-20.8772, 8.5) radius 1.75 projected
  circle A2 centre (20.8772, 8.5) radius 1.75 projected
  circle A3 centre (35.7091, 28.8987) radius 1.75 projected
  circle A4 centre (-38.6257, 37.55) radius 1.75 projected
  circle A5 centre (38.6257, 37.55) radius 1.75 projected
  circle A6 centre (-28.8757, 53.55) radius 1.75 projected
  circle A7 centre (28.8757, 53.55) radius 1.75 projected
  point P0 (0, 0)
extrude "Extrusion19" add sketch "Sketch20" against normal blind 3
extrude "Extrusion20" cut sketch "Sketch19" against normal through all
sketch "Sketch21" plane through (0, 1.5, 0) normal (0, 1, 0) x (1, 0, 0)
  line L0 (13.5, -50.3894) -> (13.5, 54.709)
  line L1 (-13.5, 54.0348) -> (-13.5, -50.3894)
  line L2 (16.5, -50.3894) -> (16.5, 55.1499)
  line L3 (-16.5, 55.1657) -> (-16.5, -50.3894)
  arc A0 (-16.5, 55.1657) -> (-13.5, 54.0348) centre (6.6191, 111.9486) ccw
  arc A1 (13.5, 54.709) -> (16.5, 55.1499) centre (6.6191, 111.9486) ccw
  line L4 (13.5, -50.3894) -> (16.5, -50.3894)
  line L5 (-16.5, -50.3894) -> (-13.5, -50.3894)
  point P0 (0, 0)
  dimension "d309" = 16.5
  dimension "d310" = 13.5
  dimension "d311" = 13.5
  dimension "d312" = 16.5
extrude "Extrusion23" add sketch "Sketch21" along normal blind 23.5
sketch "Sketch23" plane through (0, 1.5, 0) normal (0, -1, 0) x (1, 0, 0)
  line L0 (13.5, 0) -> (16.5, 0) projected
  line L1 (13.5, 0) -> (13.5, -9.4382) projected
  line L2 (13.5, -9.4382) -> (16.5, -9.4382) projected
  line L3 (16.5, -9.4382) -> (16.5, 0) projected
  line L4 (13.5, -28.3427) -> (16.5, -28.3427) projected
  line L5 (16.5, -28.3427) -> (16.5, -18.3592) projected
  line L6 (16.5, -18.3592) -> (13.5, -18.3592) projected
  line L7 (13.5, -18.3592) -> (13.5, -28.3427) projected
  line L8 (-16.5, 0) -> (-13.5, 0) projected
  line L9 (-16.5, -9.4382) -> (-16.5, 0) projected
  line L10 (-16.5, -9.4382) -> (-13.5, -9.4382) projected
  line L11 (-13.5, 0) -> (-13.5, -9.4382) projected
  line L12 (-16.5, -28.3427) -> (-13.5, -28.3427) projected
  line L13 (-13.5, -18.3592) -> (-13.5, -28.3427) projected
  line L14 (-13.5, -18.3592) -> (-16.5, -18.3592) projected
  line L15 (-16.5, -28.3427) -> (-16.5, -18.3592) projected
  point P0 (0, 0)
extrude "Extrusion24" cut sketch "Sketch23" against normal through all
sketch "Sketch24" plane through (0, 25, 0) normal (0, 1, 0) x (1, 0, 0)
  line L0 (-16.5, 9.4382) -> (-13.5, 9.4382) projected
  line L1 (-13.5, 9.4382) -> (-13.5, 18.3592) projected
  line L2 (-13.5, 18.3592) -> (-16.5, 18.3592) projected
  line L3 (-16.5, 18.3592) -> (-16.5, 9.4382) projected
  line L4 (16.5, 18.3592) -> (13.5, 18.3592) projected
  line L5 (13.5, 18.3592) -> (13.5, 9.4382) projected
  line L6 (13.5, 9.4382) -> (16.5, 9.4382) projected
  line L7 (16.5, 9.4382) -> (16.5, 18.3592) projected
  point P0 (0, 0)
extrude "Extrusion25" cut sketch "Sketch24" against normal blind 23.5
properties part number "basebawahV2" material "ABS Plastic"
